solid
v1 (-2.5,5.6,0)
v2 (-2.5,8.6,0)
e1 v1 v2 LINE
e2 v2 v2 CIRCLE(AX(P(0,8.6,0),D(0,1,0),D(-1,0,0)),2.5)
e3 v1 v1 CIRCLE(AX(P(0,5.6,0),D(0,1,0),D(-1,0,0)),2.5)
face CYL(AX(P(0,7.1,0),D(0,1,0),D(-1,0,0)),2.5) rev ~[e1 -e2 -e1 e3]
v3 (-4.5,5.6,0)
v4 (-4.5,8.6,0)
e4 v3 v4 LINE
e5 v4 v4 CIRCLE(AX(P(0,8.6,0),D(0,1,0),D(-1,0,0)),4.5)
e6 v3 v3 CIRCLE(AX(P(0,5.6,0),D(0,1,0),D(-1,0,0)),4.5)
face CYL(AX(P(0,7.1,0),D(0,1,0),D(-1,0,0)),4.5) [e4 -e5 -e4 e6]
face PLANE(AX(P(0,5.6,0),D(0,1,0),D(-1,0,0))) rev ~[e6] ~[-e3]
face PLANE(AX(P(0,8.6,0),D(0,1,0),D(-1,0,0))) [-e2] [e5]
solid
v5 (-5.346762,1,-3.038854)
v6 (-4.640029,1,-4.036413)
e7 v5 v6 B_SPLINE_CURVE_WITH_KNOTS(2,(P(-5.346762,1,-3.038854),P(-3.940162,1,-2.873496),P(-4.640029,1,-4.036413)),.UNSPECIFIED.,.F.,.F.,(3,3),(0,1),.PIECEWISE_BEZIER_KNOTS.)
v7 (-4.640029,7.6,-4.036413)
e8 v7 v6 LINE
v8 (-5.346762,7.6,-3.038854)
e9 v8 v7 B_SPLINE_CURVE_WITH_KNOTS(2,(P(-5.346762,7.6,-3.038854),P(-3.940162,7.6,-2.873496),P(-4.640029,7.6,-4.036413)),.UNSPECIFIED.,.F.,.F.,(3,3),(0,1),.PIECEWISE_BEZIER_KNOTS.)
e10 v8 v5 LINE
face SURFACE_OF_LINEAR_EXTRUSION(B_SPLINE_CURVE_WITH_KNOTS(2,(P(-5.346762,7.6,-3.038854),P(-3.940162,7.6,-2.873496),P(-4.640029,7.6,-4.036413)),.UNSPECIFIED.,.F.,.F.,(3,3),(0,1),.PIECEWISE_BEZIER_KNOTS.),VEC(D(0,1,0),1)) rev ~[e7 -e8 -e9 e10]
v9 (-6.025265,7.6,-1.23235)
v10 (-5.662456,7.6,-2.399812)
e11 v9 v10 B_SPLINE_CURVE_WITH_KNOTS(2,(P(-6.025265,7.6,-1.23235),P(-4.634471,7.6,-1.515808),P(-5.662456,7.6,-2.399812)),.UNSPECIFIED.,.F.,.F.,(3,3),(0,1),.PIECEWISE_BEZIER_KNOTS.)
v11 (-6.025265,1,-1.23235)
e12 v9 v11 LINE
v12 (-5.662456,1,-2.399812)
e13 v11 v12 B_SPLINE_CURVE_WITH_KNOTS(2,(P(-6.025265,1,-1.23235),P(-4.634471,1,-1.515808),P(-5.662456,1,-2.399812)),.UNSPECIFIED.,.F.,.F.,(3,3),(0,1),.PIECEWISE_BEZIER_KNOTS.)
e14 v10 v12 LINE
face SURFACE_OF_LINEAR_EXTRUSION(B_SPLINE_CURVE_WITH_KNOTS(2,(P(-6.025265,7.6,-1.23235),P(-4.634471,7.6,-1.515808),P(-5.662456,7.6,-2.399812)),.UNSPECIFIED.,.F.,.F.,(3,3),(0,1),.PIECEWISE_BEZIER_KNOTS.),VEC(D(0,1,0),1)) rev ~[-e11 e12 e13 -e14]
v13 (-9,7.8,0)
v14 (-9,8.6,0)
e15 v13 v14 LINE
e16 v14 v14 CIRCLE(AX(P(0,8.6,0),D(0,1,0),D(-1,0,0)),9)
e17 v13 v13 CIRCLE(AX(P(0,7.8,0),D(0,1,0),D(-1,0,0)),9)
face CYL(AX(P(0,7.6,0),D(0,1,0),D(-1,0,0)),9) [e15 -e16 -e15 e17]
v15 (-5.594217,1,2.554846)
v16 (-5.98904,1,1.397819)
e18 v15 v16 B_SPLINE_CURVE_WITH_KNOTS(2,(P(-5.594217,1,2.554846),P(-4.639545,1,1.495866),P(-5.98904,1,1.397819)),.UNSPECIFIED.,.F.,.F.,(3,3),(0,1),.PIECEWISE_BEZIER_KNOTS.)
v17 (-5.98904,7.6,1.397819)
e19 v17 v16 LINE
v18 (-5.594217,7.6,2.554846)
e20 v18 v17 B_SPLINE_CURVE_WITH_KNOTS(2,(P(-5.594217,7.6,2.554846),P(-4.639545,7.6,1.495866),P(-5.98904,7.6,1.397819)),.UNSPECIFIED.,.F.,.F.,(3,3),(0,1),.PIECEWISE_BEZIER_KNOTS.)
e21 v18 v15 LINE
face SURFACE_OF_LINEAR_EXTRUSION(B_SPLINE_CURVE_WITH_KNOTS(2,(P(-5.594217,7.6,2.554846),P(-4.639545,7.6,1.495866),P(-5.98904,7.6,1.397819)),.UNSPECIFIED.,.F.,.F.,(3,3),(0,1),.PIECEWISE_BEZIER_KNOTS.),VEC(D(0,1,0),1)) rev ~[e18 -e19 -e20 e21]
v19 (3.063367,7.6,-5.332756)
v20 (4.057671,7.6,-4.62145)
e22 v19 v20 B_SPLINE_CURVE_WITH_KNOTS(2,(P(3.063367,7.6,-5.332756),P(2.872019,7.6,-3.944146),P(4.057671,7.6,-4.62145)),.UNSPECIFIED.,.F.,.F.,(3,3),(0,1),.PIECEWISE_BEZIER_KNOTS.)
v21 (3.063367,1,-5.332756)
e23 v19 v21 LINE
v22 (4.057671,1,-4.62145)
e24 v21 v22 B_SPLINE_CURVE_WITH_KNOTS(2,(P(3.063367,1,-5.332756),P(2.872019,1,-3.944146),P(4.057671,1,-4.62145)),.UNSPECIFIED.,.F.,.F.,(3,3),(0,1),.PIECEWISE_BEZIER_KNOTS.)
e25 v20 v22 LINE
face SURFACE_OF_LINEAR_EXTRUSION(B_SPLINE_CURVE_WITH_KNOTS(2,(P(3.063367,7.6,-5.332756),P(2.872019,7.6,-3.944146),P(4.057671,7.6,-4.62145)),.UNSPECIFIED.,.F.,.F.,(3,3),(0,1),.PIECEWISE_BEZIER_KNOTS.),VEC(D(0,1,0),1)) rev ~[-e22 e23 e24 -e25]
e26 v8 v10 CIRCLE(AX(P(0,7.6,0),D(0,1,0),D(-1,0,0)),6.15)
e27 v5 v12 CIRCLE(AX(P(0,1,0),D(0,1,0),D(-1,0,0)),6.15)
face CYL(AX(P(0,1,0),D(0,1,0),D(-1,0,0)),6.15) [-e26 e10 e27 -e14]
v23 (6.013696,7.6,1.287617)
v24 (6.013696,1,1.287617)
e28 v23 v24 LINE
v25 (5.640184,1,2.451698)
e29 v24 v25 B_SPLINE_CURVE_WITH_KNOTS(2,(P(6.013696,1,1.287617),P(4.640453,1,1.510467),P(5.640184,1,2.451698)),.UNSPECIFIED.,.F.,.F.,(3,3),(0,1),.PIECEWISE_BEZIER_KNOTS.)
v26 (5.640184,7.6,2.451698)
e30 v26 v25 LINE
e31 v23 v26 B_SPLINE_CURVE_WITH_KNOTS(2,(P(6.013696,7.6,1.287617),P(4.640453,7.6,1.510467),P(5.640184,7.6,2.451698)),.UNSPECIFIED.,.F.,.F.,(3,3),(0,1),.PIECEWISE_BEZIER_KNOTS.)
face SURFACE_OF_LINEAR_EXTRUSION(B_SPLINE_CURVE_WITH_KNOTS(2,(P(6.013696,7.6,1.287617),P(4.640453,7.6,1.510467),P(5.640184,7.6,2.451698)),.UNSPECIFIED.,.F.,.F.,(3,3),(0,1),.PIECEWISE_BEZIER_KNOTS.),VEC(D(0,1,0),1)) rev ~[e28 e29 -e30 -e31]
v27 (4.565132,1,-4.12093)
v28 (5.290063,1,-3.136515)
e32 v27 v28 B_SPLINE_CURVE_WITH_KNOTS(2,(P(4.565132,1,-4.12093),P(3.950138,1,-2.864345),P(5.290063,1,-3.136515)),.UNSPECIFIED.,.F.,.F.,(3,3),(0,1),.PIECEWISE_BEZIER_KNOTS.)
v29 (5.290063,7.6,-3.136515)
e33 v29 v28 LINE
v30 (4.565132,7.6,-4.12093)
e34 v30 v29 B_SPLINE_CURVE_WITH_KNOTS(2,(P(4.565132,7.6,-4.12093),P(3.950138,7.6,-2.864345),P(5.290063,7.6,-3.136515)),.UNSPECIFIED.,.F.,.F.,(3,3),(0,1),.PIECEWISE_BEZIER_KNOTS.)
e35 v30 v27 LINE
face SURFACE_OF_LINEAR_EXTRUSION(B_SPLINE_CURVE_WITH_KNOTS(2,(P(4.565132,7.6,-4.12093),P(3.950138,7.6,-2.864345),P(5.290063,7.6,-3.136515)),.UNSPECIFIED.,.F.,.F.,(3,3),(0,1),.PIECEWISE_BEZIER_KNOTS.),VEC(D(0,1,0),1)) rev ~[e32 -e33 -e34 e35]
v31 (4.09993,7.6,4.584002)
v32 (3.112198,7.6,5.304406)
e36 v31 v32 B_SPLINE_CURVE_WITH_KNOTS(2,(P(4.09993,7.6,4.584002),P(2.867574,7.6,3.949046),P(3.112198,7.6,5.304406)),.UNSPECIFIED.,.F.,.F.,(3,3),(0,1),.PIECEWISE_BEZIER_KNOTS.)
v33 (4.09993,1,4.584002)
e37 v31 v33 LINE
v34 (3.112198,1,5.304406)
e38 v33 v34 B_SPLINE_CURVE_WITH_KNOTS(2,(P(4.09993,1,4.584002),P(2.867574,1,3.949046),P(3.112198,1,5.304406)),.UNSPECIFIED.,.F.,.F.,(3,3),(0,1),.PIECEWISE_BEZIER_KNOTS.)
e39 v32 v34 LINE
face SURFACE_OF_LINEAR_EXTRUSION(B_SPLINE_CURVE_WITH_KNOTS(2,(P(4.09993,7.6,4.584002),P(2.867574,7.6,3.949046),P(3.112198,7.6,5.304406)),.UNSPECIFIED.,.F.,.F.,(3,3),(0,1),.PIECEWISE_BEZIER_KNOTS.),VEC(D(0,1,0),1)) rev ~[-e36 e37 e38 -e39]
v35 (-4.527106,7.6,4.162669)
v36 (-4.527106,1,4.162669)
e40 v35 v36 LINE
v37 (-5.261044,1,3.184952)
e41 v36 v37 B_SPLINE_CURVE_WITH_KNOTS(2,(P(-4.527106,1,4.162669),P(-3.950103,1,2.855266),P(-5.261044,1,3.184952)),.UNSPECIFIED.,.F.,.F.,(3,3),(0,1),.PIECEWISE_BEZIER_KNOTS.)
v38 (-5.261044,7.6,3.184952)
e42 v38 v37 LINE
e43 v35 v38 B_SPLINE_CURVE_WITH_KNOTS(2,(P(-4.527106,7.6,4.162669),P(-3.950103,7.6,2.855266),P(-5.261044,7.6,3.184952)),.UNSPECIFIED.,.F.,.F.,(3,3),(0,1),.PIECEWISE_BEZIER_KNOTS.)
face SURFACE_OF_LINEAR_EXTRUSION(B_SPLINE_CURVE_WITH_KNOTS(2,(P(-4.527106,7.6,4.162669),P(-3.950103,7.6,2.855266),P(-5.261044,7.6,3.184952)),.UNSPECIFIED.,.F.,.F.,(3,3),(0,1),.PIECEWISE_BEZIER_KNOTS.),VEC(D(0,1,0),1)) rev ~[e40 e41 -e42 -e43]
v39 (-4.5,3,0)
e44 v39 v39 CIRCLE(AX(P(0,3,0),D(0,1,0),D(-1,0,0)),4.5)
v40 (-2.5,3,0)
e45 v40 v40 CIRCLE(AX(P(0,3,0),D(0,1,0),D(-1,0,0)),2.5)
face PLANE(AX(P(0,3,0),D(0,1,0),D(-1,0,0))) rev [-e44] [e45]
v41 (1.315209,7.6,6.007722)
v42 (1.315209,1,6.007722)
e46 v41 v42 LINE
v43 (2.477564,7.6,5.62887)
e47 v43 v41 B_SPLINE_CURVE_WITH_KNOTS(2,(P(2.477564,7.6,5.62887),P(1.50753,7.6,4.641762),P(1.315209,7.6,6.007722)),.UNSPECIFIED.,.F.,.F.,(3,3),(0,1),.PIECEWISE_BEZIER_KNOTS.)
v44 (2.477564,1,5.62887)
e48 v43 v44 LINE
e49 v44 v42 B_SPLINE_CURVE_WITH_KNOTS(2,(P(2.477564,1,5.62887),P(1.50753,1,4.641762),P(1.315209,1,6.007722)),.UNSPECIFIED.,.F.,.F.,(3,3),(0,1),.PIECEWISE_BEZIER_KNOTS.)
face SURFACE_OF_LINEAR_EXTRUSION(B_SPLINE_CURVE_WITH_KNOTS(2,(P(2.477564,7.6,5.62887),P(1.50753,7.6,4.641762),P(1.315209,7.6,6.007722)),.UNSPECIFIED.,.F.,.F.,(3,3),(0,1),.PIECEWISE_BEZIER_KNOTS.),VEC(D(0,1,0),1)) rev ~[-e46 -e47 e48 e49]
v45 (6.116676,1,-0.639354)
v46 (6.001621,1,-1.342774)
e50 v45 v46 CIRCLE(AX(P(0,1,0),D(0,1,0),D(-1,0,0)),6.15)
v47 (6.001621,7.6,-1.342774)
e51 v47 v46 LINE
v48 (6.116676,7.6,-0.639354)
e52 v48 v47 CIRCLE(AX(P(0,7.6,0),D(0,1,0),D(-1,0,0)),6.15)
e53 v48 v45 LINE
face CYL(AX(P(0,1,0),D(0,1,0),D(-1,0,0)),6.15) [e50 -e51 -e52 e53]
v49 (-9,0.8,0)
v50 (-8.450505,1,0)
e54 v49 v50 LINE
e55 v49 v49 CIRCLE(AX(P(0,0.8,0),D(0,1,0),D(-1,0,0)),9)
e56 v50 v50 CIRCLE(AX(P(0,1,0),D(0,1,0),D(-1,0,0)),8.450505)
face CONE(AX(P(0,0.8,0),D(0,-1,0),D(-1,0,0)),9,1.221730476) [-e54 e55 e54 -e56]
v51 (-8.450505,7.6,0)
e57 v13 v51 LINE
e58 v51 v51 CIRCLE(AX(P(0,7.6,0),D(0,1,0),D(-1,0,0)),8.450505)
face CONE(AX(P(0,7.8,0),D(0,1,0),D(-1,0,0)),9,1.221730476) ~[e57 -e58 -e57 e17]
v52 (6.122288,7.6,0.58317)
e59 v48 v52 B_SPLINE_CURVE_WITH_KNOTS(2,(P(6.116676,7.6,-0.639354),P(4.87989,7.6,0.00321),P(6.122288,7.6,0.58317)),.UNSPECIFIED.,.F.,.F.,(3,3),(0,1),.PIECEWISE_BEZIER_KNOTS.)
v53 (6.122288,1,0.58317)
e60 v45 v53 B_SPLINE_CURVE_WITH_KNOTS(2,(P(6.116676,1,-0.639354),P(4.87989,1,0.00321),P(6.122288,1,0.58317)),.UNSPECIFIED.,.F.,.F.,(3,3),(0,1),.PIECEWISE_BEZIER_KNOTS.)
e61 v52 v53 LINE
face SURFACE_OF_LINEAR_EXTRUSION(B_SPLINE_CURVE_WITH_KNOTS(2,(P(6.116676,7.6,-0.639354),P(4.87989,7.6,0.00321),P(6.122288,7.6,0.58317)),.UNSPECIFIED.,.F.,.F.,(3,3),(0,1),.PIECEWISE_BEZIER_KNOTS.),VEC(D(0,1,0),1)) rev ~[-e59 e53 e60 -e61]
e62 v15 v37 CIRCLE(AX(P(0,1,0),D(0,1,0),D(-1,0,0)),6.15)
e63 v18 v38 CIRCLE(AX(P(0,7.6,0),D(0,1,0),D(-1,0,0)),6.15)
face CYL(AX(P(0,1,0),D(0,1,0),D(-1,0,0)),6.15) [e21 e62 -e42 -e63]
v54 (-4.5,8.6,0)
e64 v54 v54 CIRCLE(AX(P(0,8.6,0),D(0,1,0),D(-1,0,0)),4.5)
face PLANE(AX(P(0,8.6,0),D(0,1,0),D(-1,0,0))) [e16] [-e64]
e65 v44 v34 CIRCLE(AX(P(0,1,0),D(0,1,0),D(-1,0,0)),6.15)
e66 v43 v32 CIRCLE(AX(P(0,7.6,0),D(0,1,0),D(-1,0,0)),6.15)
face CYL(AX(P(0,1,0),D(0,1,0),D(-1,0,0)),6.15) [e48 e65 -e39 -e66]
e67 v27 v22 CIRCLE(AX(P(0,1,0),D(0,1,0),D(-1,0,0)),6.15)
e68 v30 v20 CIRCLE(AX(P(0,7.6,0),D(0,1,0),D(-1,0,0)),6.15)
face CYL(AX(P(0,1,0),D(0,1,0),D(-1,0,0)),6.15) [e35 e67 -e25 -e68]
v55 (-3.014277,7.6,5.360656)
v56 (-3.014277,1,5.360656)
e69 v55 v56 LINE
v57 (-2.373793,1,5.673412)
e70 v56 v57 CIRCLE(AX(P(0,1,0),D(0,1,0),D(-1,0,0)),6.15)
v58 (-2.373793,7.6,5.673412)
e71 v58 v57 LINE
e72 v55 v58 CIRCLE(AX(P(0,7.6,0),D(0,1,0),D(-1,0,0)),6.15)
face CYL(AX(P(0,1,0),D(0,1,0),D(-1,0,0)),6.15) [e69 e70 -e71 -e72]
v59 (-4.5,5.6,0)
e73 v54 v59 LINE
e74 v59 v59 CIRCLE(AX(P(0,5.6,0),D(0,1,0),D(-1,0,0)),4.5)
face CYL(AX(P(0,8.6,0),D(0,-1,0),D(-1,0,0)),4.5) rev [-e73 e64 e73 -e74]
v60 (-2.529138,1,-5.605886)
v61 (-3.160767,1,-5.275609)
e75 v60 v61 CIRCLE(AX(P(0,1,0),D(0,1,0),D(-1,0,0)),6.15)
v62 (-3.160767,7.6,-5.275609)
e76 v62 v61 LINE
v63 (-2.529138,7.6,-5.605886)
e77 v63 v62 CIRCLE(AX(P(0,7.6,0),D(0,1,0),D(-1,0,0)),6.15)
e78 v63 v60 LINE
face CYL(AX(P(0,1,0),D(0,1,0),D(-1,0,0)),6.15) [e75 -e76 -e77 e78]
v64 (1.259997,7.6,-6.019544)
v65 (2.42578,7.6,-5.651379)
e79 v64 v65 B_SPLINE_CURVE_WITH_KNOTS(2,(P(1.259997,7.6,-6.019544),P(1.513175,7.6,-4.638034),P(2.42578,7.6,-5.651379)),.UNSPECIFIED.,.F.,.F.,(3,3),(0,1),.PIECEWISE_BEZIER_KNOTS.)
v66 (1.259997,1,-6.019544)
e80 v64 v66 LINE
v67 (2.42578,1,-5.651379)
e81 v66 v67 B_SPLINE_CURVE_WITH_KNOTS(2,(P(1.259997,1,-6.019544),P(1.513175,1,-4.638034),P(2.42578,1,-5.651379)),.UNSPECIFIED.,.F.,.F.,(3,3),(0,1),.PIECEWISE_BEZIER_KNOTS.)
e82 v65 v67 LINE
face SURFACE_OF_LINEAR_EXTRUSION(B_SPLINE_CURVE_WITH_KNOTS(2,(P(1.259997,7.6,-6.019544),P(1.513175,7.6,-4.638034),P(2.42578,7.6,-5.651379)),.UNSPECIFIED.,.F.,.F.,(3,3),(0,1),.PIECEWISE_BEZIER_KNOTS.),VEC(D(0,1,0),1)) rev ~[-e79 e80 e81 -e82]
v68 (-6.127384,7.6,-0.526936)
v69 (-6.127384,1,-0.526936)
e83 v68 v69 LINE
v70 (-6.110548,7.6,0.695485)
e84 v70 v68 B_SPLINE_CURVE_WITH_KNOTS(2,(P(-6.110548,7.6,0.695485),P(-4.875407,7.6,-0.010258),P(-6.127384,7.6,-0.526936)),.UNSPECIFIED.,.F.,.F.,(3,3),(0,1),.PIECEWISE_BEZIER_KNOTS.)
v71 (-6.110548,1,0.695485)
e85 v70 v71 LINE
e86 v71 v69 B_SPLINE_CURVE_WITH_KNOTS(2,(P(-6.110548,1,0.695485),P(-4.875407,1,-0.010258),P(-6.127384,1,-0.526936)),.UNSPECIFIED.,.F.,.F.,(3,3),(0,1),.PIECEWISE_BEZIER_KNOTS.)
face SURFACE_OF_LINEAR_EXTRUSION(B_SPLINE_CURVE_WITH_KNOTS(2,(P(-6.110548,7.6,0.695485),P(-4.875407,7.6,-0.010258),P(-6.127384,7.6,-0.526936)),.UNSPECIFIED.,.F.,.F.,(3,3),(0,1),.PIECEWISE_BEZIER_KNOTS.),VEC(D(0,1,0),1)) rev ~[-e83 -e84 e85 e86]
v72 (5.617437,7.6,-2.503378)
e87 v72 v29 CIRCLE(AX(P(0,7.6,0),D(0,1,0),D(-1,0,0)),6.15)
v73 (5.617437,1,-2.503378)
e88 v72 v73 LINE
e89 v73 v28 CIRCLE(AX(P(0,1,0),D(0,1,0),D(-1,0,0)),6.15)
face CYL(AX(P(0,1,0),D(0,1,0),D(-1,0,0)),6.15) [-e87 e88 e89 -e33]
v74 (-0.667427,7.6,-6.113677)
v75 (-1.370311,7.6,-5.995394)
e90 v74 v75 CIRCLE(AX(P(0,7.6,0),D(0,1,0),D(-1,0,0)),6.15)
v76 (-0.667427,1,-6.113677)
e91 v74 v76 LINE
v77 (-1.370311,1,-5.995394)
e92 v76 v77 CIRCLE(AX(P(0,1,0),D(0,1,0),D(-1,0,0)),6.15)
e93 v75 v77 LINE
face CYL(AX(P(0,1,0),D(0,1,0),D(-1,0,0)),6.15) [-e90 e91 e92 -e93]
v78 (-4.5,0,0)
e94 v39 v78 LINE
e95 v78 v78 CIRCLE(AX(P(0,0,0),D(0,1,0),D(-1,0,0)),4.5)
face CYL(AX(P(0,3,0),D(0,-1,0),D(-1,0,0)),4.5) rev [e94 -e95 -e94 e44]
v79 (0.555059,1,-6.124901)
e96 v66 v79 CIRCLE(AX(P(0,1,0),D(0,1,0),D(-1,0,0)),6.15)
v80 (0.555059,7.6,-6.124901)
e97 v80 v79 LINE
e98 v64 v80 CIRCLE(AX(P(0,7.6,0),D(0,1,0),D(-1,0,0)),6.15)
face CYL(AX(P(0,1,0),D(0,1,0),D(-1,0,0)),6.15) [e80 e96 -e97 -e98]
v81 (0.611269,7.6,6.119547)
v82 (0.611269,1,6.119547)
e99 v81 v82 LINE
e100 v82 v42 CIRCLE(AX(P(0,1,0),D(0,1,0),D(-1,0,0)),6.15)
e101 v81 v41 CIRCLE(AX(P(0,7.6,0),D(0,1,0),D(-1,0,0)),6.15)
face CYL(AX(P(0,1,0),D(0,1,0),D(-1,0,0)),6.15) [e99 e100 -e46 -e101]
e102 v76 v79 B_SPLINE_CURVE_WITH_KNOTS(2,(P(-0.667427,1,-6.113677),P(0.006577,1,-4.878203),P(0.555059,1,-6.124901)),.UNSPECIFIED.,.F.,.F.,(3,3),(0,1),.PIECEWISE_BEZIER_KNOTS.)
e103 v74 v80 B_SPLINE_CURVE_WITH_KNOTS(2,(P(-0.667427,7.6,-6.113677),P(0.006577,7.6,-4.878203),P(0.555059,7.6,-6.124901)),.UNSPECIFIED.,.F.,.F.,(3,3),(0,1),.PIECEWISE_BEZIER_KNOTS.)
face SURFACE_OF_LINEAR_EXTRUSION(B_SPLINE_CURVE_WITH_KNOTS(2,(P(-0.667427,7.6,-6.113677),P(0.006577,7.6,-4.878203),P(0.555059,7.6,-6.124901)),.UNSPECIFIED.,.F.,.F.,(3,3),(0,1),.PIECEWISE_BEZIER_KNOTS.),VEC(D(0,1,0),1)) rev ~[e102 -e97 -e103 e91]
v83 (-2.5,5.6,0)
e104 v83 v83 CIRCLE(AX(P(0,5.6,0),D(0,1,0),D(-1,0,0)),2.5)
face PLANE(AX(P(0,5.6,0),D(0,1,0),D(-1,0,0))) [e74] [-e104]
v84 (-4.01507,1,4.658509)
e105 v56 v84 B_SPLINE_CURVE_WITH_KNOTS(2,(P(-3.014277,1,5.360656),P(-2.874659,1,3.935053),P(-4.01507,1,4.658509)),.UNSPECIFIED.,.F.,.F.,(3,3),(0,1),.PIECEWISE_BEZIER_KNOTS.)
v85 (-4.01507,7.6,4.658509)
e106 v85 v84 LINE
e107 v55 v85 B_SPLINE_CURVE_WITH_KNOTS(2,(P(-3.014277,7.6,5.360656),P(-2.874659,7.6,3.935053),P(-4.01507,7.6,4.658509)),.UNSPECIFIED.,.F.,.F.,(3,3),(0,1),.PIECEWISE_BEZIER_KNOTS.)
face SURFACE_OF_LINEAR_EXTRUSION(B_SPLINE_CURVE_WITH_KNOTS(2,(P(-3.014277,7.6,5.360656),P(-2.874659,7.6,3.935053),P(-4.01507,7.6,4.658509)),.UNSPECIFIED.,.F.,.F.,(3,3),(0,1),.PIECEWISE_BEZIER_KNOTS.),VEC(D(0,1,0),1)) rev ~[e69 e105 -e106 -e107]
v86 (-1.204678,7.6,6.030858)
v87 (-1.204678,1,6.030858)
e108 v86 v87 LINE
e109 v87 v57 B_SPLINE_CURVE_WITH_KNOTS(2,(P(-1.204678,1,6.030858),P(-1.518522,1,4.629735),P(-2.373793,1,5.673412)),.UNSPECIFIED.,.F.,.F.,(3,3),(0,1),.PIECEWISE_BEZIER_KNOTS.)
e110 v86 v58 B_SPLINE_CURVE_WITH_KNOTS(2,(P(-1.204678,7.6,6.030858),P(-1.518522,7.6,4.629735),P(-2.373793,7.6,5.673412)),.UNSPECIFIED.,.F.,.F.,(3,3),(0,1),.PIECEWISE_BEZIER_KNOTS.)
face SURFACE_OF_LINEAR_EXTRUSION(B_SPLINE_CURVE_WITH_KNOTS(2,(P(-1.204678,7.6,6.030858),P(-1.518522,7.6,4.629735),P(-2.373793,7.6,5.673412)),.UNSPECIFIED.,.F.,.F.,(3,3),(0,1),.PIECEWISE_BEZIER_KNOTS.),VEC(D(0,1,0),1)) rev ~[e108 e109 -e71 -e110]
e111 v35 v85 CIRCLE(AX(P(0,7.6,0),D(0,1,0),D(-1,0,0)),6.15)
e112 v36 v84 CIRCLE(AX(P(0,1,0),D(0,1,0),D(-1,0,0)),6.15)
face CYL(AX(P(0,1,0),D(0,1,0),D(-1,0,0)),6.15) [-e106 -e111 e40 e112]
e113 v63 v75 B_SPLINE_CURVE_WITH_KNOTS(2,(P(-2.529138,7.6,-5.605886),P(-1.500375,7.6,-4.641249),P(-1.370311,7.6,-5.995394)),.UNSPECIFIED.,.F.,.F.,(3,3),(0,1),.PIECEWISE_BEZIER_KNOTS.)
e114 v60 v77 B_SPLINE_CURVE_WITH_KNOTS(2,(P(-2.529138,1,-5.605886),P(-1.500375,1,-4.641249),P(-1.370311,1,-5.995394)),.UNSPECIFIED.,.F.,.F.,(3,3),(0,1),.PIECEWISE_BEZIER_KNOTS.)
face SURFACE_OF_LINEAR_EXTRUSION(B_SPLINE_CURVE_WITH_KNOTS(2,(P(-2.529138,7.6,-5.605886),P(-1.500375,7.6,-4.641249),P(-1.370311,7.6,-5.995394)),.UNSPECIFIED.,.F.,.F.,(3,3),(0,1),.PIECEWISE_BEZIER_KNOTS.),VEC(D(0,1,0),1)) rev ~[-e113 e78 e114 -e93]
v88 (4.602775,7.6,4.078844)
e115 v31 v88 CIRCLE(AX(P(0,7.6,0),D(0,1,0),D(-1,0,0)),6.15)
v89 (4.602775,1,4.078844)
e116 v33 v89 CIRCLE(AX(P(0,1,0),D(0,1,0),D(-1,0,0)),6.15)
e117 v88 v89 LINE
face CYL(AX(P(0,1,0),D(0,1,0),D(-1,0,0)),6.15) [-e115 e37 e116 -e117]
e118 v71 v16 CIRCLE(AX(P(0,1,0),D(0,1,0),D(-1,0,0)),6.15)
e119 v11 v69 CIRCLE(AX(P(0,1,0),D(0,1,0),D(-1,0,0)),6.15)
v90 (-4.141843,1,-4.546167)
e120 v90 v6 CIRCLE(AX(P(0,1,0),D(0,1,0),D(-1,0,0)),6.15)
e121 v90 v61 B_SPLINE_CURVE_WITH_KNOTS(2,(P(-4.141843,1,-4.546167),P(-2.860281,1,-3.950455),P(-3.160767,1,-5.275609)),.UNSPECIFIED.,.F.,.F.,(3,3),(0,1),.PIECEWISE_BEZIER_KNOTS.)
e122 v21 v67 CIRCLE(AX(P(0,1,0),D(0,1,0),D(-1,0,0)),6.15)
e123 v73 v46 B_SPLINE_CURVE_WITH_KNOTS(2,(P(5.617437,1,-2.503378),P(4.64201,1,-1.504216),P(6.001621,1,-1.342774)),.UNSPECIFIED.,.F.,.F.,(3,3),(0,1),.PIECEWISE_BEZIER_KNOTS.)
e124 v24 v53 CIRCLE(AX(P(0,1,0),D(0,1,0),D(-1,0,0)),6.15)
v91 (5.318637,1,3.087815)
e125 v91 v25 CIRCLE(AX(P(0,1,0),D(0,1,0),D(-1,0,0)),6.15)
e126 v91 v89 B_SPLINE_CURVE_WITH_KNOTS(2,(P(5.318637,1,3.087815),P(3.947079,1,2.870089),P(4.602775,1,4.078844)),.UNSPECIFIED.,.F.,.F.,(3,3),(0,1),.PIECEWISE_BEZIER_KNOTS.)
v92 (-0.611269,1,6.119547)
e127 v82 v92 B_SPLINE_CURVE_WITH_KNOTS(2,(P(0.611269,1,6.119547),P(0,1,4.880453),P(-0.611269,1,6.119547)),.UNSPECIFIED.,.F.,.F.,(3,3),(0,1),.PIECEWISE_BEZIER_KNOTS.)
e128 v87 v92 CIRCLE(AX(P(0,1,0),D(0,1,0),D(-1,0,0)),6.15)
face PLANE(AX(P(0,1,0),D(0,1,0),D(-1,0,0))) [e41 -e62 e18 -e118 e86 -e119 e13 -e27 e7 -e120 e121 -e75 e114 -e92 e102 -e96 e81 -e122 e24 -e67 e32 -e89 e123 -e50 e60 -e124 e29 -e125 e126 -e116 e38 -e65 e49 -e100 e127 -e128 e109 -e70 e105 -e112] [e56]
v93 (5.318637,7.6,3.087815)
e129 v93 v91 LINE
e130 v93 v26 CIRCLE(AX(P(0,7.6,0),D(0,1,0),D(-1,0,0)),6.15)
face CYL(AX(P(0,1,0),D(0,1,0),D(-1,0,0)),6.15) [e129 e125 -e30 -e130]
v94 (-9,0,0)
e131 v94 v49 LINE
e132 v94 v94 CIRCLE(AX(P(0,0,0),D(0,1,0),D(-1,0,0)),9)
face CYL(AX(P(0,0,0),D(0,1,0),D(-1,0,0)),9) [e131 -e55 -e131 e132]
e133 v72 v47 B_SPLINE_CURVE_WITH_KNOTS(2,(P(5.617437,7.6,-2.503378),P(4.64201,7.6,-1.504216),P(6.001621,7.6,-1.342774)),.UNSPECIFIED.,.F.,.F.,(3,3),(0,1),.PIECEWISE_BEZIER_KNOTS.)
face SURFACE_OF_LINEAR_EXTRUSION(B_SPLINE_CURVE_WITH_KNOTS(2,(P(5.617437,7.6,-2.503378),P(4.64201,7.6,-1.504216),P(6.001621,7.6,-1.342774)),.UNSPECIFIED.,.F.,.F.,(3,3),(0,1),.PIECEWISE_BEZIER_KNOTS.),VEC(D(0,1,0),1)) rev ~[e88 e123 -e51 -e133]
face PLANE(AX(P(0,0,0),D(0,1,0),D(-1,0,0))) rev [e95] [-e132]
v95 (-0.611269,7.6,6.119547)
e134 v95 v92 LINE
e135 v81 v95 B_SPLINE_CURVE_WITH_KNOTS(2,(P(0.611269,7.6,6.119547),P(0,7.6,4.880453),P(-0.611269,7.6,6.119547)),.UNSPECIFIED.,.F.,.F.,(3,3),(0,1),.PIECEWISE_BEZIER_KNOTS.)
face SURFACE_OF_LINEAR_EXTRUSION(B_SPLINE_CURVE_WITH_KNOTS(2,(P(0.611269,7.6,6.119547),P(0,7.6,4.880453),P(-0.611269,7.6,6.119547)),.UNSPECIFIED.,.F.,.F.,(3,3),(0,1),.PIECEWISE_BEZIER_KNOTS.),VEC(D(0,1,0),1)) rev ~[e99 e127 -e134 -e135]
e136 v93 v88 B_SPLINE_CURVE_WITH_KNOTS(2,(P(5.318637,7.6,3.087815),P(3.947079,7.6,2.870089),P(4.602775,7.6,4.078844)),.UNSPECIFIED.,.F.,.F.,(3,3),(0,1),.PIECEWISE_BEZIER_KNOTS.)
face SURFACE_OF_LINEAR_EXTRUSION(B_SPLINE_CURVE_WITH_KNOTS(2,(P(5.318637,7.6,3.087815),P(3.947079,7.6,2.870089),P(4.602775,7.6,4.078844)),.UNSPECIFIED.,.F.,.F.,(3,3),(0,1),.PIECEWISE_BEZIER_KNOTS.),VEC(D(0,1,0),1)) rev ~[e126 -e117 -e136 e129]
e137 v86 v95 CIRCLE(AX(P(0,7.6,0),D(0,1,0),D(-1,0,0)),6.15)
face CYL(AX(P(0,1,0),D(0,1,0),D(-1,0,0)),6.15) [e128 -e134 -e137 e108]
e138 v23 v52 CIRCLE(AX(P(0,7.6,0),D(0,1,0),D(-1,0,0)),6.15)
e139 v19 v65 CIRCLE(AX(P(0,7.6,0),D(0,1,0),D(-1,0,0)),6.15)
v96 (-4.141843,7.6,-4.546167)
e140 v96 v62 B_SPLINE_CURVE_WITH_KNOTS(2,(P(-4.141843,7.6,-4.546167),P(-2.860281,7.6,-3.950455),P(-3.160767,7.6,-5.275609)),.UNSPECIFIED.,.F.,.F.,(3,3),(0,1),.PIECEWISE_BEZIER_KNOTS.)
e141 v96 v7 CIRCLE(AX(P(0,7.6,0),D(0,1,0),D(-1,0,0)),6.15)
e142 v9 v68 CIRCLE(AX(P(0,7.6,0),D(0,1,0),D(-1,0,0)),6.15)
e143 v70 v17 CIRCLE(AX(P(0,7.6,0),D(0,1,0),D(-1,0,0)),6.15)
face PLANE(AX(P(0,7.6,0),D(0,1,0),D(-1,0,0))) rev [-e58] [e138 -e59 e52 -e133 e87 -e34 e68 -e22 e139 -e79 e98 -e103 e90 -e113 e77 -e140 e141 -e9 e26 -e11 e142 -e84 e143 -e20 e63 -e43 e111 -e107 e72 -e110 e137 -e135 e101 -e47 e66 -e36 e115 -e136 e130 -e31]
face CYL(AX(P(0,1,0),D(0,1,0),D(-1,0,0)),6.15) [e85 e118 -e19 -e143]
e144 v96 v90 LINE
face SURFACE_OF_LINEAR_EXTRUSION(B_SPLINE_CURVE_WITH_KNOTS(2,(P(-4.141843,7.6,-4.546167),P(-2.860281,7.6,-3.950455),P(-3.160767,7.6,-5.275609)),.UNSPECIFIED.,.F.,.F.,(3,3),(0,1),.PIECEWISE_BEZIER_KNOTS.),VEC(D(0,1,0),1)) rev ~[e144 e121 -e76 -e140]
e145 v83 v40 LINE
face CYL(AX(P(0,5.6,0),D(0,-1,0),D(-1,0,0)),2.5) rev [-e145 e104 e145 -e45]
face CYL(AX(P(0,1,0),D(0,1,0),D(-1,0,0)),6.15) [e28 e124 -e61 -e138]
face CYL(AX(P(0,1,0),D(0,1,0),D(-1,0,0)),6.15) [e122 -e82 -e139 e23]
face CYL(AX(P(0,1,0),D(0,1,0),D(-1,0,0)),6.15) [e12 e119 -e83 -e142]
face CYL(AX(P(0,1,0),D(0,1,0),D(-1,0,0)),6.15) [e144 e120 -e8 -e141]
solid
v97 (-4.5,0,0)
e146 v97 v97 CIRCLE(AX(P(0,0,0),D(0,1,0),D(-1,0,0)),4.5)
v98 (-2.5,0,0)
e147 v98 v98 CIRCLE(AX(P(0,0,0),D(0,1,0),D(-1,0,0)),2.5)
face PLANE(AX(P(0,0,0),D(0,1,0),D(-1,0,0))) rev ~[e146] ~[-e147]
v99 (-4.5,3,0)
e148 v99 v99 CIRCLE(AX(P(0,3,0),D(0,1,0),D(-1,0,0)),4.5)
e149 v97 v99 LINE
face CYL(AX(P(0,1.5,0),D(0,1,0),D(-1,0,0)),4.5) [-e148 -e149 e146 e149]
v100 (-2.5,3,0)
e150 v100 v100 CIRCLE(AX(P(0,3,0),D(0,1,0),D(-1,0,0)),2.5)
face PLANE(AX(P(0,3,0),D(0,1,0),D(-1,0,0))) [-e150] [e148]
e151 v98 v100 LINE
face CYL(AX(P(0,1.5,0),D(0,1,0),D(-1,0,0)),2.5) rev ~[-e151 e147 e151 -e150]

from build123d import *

# Parameters (mm, degrees)
CHANFRO1_SIZE         = 0.2
CHANFRO1_SIZE2        = 0.549495484
CHANFRO2_SIZE         = 0.2
CHANFRO2_SIZE2        = 0.549495484
ESBO_O2_W             = 2
ESBO_O2_H             = 3
CORTE_EXTRUS_O1_DEPTH = 6.6


with BuildPart() as part:
    # Esboço1 → Revolução1 (revolve)
    with BuildSketch(Plane.XY):
        Polygon((-4.5, 0), (-9, 0), (-9, 1), (-6.15, 1), (-6.15, 7.6), (-9, 7.6), (-9, 8.6), (-4.5, 8.6), (-4.5, 5.6), (-2.5, 5.6), (-2.5, 3), (-4.5, 3), align=None)
    revolve(axis=Axis((0, 0, 0), (0, 1, 0)))

    # Chanfro1
    chanfro1_edges = [part.edges().sort_by_distance(p)[0] for p in [
        (9, 1, 0),
    ]]
    chanfro1_side = [part.faces().sort_by_distance(p)[0] for p in [
        (9, 0.5, 0),
    ]]
    chamfer(chanfro1_edges, length=CHANFRO1_SIZE, length2=CHANFRO1_SIZE2, reference=chanfro1_side[0])

    # Chanfro2
    chanfro2_edges = [part.edges().sort_by_distance(p)[0] for p in [
        (9, 7.6, 0),
    ]]
    chanfro2_side = [part.faces().sort_by_distance(p)[0] for p in [
        (9, 8.1, 0),
    ]]
    chamfer(chanfro2_edges, length=CHANFRO2_SIZE, length2=CHANFRO2_SIZE2, reference=chanfro2_side[0])

    # Esboço3 → Corte-extrusão1 (cut)
    with BuildSketch(Plane.XZ.offset(-7.6)):
        with BuildLine():
            ThreePointArc((0.61126857, 6.119546612), (0, 6.15), (-0.61126857, 6.119546612))
            add(Edge.make_bspline(
                [(0.61126857, 6.119546612), (0, 4.880453388), (-0.61126857, 6.119546612)],
                knots=[0, 0, 0, 1, 1, 1], degree=2))
        make_face()
        with BuildLine():
            ThreePointArc((2.477563874, 5.62886998), (1.90582379, 5.847250267), (1.315209302, 6.007722072))
            add(Edge.make_bspline(
                [(2.477563874, 5.62886998), (1.507530289, 4.641762361), (1.315209302, 6.007722072)],
                knots=[0, 0, 0, 1, 1, 1], degree=2))
        make_face()
        with BuildLine():
            ThreePointArc((4.099930137, 4.58400184), (3.624009322, 4.968808351), (3.112197983, 5.304406066))
            add(Edge.make_bspline(
                [(4.099930137, 4.58400184), (2.867573845, 3.94904622), (3.112197983, 5.304406066)],
                knots=[0, 0, 0, 1, 1, 1], degree=2))
        make_face()
        with BuildLine():
            ThreePointArc((5.318636967, 3.087814892), (4.985392299, 3.601161427), (4.602774595, 4.078843712))
            add(Edge.make_bspline(
                [(5.318636967, 3.087814892), (3.947079313, 2.87008914), (4.602774595, 4.078843712)],
                knots=[0, 0, 0, 1, 1, 1], degree=2))
        make_face()
        with BuildLine():
            ThreePointArc((6.013696343, 1.287616518), (5.855937491, 1.878961442), (5.640184124, 2.451697994))
            add(Edge.make_bspline(
                [(6.013696343, 1.287616518), (4.640452509, 1.510466561), (5.640184124, 2.451697994)],
                knots=[0, 0, 0, 1, 1, 1], degree=2))
        make_face()
        with BuildLine():
            ThreePointArc((6.116676055, -0.639354395), (6.149935199, -0.028232064), (6.122288209, 0.583169864))
            add(Edge.make_bspline(
                [(6.116676055, -0.639354395), (4.879889539, 0.003209909), (6.122288209, 0.583169864)],
                knots=[0, 0, 0, 1, 1, 1], degree=2))
        make_face()
        with BuildLine():
            ThreePointArc((5.617437216, -2.503377544), (5.83843982, -1.932645976), (6.001621197, -1.34277437))
            add(Edge.make_bspline(
                [(5.617437216, -2.503377544), (4.642009607, -1.504215684), (6.001621197, -1.34277437)],
                knots=[0, 0, 0, 1, 1, 1], degree=2))
        make_face()
        with BuildLine():
            ThreePointArc((4.565132484, -4.120930162), (4.952119693, -3.646780847), (5.290063383, -3.136515488))
            add(Edge.make_bspline(
                [(4.565132484, -4.120930162), (3.950138384, -2.864345261), (5.290063383, -3.136515488)],
                knots=[0, 0, 0, 1, 1, 1], degree=2))
        make_face()
        with BuildLine():
            ThreePointArc((3.063366731, -5.332755786), (3.578237643, -5.001871187), (4.057671332, -4.621450353))
            add(Edge.make_bspline(
                [(3.063366731, -5.332755786), (2.872018914, -3.944146003), (4.057671332, -4.621450353)],
                knots=[0, 0, 0, 1, 1, 1], degree=2))
        make_face()
        with BuildLine():
            ThreePointArc((1.2599966, -6.019543884), (1.852059497, -5.86450131), (2.425780447, -5.651379409))
            add(Edge.make_bspline(
                [(1.2599966, -6.019543884), (1.513174901, -4.638034163), (2.425780447, -5.651379409)],
                knots=[0, 0, 0, 1, 1, 1], degree=2))
        make_face()
        with BuildLine():
            ThreePointArc((-0.667426746, -6.113676598), (-0.056463533, -6.149740797), (0.555058868, -6.124900787))
            add(Edge.make_bspline(
                [(-0.667426746, -6.113676598), (0.006576996, -4.878202716), (0.555058868, -6.124900787)],
                knots=[0, 0, 0, 1, 1, 1], degree=2))
        make_face()
        with BuildLine():
            ThreePointArc((-2.529138459, -5.605886072), (-1.959427435, -5.829506337), (-1.370311141, -5.995393847))
            add(Edge.make_bspline(
                [(-2.529138459, -5.605886072), (-1.500375367, -4.64124909), (-1.370311141, -5.995393847)],
                knots=[0, 0, 0, 1, 1, 1], degree=2))
        make_face()
        with BuildLine():
            ThreePointArc((-4.141843345, -4.546166925), (-3.669475521, -4.935326677), (-3.160766896, -5.275609219))
            add(Edge.make_bspline(
                [(-4.141843345, -4.546166925), (-2.860281353, -3.950454989), (-3.160766896, -5.275609219)],
                knots=[0, 0, 0, 1, 1, 1], degree=2))
        make_face()
        with BuildLine():
            ThreePointArc((-5.346762225, -3.038854013), (-5.018244668, -3.555238452), (-4.640028721, -4.036413442))
            add(Edge.make_bspline(
                [(-5.346762225, -3.038854013), (-3.940162474, -2.873496238), (-4.640028721, -4.036413442)],
                knots=[0, 0, 0, 1, 1, 1], degree=2))
        make_face()
        with BuildLine():
            ThreePointArc((-6.025264572, -1.232350129), (-5.872941544, -1.825118523), (-5.6624556, -2.399811781))
            add(Edge.make_bspline(
                [(-6.025264572, -1.232350129), (-4.634470584, -1.515808235), (-5.6624556, -2.399811781)],
                knots=[0, 0, 0, 1, 1, 1], degree=2))
        make_face()
        with BuildLine():
            ThreePointArc((-6.110548304, 0.695485032), (-6.149416798, 0.084693812), (-6.127384292, -0.526936176))
            add(Edge.make_bspline(
                [(-6.110548304, 0.695485032), (-4.875407146, -0.010257903), (-6.127384292, -0.526936176)],
                knots=[0, 0, 0, 1, 1, 1], degree=2))
        make_face()
        with BuildLine():
            ThreePointArc((-5.594216793, 2.554846076), (-5.820450005, 1.986167601), (-5.989040152, 1.397819035))
            add(Edge.make_bspline(
                [(-5.594216793, 2.554846076), (-4.63954452, 1.495865517), (-5.989040152, 1.397819035)],
                knots=[0, 0, 0, 1, 1, 1], degree=2))
        make_face()
        with BuildLine():
            ThreePointArc((-4.527105562, 4.162669244), (-4.918429655, 3.692092866), (-5.261043879, 3.184951695))
            add(Edge.make_bspline(
                [(-4.527105562, 4.162669244), (-3.950102511, 2.855266321), (-5.261043879, 3.184951695)],
                knots=[0, 0, 0, 1, 1, 1], degree=2))
        make_face()
        with BuildLine():
            ThreePointArc((-3.014277257, 5.360655988), (-3.53216434, 5.034512397), (-4.01507049, 4.658509307))
            add(Edge.make_bspline(
                [(-3.014277257, 5.360655988), (-2.874659117, 3.935053197), (-4.01507049, 4.658509307)],
                knots=[0, 0, 0, 1, 1, 1], degree=2))
        make_face()
        with BuildLine():
            ThreePointArc((-1.204677688, 6.030858286), (-1.798139087, 5.881258014), (-2.373792542, 5.673412462))
            add(Edge.make_bspline(
                [(-1.204677688, 6.030858286), (-1.518521518, 4.629734513), (-2.373792542, 5.673412462)],
                knots=[0, 0, 0, 1, 1, 1], degree=2))
        make_face()
    extrude(amount=CORTE_EXTRUS_O1_DEPTH, mode=Mode.SUBTRACT)


with BuildPart() as body_2:
    # Esboço2 → Revolução2 (revolve)
    with BuildSketch(Plane.XY):
        with Locations((-3.5, 1.5)):
            Rectangle(ESBO_O2_W, ESBO_O2_H)
        with Locations((-3.5, 7.1)):
            Rectangle(ESBO_O2_W, ESBO_O2_H)
    revolve(axis=Axis((0, 0, 0), (0, 1, 0)))


solid = Compound([part.part, body_2.part])
